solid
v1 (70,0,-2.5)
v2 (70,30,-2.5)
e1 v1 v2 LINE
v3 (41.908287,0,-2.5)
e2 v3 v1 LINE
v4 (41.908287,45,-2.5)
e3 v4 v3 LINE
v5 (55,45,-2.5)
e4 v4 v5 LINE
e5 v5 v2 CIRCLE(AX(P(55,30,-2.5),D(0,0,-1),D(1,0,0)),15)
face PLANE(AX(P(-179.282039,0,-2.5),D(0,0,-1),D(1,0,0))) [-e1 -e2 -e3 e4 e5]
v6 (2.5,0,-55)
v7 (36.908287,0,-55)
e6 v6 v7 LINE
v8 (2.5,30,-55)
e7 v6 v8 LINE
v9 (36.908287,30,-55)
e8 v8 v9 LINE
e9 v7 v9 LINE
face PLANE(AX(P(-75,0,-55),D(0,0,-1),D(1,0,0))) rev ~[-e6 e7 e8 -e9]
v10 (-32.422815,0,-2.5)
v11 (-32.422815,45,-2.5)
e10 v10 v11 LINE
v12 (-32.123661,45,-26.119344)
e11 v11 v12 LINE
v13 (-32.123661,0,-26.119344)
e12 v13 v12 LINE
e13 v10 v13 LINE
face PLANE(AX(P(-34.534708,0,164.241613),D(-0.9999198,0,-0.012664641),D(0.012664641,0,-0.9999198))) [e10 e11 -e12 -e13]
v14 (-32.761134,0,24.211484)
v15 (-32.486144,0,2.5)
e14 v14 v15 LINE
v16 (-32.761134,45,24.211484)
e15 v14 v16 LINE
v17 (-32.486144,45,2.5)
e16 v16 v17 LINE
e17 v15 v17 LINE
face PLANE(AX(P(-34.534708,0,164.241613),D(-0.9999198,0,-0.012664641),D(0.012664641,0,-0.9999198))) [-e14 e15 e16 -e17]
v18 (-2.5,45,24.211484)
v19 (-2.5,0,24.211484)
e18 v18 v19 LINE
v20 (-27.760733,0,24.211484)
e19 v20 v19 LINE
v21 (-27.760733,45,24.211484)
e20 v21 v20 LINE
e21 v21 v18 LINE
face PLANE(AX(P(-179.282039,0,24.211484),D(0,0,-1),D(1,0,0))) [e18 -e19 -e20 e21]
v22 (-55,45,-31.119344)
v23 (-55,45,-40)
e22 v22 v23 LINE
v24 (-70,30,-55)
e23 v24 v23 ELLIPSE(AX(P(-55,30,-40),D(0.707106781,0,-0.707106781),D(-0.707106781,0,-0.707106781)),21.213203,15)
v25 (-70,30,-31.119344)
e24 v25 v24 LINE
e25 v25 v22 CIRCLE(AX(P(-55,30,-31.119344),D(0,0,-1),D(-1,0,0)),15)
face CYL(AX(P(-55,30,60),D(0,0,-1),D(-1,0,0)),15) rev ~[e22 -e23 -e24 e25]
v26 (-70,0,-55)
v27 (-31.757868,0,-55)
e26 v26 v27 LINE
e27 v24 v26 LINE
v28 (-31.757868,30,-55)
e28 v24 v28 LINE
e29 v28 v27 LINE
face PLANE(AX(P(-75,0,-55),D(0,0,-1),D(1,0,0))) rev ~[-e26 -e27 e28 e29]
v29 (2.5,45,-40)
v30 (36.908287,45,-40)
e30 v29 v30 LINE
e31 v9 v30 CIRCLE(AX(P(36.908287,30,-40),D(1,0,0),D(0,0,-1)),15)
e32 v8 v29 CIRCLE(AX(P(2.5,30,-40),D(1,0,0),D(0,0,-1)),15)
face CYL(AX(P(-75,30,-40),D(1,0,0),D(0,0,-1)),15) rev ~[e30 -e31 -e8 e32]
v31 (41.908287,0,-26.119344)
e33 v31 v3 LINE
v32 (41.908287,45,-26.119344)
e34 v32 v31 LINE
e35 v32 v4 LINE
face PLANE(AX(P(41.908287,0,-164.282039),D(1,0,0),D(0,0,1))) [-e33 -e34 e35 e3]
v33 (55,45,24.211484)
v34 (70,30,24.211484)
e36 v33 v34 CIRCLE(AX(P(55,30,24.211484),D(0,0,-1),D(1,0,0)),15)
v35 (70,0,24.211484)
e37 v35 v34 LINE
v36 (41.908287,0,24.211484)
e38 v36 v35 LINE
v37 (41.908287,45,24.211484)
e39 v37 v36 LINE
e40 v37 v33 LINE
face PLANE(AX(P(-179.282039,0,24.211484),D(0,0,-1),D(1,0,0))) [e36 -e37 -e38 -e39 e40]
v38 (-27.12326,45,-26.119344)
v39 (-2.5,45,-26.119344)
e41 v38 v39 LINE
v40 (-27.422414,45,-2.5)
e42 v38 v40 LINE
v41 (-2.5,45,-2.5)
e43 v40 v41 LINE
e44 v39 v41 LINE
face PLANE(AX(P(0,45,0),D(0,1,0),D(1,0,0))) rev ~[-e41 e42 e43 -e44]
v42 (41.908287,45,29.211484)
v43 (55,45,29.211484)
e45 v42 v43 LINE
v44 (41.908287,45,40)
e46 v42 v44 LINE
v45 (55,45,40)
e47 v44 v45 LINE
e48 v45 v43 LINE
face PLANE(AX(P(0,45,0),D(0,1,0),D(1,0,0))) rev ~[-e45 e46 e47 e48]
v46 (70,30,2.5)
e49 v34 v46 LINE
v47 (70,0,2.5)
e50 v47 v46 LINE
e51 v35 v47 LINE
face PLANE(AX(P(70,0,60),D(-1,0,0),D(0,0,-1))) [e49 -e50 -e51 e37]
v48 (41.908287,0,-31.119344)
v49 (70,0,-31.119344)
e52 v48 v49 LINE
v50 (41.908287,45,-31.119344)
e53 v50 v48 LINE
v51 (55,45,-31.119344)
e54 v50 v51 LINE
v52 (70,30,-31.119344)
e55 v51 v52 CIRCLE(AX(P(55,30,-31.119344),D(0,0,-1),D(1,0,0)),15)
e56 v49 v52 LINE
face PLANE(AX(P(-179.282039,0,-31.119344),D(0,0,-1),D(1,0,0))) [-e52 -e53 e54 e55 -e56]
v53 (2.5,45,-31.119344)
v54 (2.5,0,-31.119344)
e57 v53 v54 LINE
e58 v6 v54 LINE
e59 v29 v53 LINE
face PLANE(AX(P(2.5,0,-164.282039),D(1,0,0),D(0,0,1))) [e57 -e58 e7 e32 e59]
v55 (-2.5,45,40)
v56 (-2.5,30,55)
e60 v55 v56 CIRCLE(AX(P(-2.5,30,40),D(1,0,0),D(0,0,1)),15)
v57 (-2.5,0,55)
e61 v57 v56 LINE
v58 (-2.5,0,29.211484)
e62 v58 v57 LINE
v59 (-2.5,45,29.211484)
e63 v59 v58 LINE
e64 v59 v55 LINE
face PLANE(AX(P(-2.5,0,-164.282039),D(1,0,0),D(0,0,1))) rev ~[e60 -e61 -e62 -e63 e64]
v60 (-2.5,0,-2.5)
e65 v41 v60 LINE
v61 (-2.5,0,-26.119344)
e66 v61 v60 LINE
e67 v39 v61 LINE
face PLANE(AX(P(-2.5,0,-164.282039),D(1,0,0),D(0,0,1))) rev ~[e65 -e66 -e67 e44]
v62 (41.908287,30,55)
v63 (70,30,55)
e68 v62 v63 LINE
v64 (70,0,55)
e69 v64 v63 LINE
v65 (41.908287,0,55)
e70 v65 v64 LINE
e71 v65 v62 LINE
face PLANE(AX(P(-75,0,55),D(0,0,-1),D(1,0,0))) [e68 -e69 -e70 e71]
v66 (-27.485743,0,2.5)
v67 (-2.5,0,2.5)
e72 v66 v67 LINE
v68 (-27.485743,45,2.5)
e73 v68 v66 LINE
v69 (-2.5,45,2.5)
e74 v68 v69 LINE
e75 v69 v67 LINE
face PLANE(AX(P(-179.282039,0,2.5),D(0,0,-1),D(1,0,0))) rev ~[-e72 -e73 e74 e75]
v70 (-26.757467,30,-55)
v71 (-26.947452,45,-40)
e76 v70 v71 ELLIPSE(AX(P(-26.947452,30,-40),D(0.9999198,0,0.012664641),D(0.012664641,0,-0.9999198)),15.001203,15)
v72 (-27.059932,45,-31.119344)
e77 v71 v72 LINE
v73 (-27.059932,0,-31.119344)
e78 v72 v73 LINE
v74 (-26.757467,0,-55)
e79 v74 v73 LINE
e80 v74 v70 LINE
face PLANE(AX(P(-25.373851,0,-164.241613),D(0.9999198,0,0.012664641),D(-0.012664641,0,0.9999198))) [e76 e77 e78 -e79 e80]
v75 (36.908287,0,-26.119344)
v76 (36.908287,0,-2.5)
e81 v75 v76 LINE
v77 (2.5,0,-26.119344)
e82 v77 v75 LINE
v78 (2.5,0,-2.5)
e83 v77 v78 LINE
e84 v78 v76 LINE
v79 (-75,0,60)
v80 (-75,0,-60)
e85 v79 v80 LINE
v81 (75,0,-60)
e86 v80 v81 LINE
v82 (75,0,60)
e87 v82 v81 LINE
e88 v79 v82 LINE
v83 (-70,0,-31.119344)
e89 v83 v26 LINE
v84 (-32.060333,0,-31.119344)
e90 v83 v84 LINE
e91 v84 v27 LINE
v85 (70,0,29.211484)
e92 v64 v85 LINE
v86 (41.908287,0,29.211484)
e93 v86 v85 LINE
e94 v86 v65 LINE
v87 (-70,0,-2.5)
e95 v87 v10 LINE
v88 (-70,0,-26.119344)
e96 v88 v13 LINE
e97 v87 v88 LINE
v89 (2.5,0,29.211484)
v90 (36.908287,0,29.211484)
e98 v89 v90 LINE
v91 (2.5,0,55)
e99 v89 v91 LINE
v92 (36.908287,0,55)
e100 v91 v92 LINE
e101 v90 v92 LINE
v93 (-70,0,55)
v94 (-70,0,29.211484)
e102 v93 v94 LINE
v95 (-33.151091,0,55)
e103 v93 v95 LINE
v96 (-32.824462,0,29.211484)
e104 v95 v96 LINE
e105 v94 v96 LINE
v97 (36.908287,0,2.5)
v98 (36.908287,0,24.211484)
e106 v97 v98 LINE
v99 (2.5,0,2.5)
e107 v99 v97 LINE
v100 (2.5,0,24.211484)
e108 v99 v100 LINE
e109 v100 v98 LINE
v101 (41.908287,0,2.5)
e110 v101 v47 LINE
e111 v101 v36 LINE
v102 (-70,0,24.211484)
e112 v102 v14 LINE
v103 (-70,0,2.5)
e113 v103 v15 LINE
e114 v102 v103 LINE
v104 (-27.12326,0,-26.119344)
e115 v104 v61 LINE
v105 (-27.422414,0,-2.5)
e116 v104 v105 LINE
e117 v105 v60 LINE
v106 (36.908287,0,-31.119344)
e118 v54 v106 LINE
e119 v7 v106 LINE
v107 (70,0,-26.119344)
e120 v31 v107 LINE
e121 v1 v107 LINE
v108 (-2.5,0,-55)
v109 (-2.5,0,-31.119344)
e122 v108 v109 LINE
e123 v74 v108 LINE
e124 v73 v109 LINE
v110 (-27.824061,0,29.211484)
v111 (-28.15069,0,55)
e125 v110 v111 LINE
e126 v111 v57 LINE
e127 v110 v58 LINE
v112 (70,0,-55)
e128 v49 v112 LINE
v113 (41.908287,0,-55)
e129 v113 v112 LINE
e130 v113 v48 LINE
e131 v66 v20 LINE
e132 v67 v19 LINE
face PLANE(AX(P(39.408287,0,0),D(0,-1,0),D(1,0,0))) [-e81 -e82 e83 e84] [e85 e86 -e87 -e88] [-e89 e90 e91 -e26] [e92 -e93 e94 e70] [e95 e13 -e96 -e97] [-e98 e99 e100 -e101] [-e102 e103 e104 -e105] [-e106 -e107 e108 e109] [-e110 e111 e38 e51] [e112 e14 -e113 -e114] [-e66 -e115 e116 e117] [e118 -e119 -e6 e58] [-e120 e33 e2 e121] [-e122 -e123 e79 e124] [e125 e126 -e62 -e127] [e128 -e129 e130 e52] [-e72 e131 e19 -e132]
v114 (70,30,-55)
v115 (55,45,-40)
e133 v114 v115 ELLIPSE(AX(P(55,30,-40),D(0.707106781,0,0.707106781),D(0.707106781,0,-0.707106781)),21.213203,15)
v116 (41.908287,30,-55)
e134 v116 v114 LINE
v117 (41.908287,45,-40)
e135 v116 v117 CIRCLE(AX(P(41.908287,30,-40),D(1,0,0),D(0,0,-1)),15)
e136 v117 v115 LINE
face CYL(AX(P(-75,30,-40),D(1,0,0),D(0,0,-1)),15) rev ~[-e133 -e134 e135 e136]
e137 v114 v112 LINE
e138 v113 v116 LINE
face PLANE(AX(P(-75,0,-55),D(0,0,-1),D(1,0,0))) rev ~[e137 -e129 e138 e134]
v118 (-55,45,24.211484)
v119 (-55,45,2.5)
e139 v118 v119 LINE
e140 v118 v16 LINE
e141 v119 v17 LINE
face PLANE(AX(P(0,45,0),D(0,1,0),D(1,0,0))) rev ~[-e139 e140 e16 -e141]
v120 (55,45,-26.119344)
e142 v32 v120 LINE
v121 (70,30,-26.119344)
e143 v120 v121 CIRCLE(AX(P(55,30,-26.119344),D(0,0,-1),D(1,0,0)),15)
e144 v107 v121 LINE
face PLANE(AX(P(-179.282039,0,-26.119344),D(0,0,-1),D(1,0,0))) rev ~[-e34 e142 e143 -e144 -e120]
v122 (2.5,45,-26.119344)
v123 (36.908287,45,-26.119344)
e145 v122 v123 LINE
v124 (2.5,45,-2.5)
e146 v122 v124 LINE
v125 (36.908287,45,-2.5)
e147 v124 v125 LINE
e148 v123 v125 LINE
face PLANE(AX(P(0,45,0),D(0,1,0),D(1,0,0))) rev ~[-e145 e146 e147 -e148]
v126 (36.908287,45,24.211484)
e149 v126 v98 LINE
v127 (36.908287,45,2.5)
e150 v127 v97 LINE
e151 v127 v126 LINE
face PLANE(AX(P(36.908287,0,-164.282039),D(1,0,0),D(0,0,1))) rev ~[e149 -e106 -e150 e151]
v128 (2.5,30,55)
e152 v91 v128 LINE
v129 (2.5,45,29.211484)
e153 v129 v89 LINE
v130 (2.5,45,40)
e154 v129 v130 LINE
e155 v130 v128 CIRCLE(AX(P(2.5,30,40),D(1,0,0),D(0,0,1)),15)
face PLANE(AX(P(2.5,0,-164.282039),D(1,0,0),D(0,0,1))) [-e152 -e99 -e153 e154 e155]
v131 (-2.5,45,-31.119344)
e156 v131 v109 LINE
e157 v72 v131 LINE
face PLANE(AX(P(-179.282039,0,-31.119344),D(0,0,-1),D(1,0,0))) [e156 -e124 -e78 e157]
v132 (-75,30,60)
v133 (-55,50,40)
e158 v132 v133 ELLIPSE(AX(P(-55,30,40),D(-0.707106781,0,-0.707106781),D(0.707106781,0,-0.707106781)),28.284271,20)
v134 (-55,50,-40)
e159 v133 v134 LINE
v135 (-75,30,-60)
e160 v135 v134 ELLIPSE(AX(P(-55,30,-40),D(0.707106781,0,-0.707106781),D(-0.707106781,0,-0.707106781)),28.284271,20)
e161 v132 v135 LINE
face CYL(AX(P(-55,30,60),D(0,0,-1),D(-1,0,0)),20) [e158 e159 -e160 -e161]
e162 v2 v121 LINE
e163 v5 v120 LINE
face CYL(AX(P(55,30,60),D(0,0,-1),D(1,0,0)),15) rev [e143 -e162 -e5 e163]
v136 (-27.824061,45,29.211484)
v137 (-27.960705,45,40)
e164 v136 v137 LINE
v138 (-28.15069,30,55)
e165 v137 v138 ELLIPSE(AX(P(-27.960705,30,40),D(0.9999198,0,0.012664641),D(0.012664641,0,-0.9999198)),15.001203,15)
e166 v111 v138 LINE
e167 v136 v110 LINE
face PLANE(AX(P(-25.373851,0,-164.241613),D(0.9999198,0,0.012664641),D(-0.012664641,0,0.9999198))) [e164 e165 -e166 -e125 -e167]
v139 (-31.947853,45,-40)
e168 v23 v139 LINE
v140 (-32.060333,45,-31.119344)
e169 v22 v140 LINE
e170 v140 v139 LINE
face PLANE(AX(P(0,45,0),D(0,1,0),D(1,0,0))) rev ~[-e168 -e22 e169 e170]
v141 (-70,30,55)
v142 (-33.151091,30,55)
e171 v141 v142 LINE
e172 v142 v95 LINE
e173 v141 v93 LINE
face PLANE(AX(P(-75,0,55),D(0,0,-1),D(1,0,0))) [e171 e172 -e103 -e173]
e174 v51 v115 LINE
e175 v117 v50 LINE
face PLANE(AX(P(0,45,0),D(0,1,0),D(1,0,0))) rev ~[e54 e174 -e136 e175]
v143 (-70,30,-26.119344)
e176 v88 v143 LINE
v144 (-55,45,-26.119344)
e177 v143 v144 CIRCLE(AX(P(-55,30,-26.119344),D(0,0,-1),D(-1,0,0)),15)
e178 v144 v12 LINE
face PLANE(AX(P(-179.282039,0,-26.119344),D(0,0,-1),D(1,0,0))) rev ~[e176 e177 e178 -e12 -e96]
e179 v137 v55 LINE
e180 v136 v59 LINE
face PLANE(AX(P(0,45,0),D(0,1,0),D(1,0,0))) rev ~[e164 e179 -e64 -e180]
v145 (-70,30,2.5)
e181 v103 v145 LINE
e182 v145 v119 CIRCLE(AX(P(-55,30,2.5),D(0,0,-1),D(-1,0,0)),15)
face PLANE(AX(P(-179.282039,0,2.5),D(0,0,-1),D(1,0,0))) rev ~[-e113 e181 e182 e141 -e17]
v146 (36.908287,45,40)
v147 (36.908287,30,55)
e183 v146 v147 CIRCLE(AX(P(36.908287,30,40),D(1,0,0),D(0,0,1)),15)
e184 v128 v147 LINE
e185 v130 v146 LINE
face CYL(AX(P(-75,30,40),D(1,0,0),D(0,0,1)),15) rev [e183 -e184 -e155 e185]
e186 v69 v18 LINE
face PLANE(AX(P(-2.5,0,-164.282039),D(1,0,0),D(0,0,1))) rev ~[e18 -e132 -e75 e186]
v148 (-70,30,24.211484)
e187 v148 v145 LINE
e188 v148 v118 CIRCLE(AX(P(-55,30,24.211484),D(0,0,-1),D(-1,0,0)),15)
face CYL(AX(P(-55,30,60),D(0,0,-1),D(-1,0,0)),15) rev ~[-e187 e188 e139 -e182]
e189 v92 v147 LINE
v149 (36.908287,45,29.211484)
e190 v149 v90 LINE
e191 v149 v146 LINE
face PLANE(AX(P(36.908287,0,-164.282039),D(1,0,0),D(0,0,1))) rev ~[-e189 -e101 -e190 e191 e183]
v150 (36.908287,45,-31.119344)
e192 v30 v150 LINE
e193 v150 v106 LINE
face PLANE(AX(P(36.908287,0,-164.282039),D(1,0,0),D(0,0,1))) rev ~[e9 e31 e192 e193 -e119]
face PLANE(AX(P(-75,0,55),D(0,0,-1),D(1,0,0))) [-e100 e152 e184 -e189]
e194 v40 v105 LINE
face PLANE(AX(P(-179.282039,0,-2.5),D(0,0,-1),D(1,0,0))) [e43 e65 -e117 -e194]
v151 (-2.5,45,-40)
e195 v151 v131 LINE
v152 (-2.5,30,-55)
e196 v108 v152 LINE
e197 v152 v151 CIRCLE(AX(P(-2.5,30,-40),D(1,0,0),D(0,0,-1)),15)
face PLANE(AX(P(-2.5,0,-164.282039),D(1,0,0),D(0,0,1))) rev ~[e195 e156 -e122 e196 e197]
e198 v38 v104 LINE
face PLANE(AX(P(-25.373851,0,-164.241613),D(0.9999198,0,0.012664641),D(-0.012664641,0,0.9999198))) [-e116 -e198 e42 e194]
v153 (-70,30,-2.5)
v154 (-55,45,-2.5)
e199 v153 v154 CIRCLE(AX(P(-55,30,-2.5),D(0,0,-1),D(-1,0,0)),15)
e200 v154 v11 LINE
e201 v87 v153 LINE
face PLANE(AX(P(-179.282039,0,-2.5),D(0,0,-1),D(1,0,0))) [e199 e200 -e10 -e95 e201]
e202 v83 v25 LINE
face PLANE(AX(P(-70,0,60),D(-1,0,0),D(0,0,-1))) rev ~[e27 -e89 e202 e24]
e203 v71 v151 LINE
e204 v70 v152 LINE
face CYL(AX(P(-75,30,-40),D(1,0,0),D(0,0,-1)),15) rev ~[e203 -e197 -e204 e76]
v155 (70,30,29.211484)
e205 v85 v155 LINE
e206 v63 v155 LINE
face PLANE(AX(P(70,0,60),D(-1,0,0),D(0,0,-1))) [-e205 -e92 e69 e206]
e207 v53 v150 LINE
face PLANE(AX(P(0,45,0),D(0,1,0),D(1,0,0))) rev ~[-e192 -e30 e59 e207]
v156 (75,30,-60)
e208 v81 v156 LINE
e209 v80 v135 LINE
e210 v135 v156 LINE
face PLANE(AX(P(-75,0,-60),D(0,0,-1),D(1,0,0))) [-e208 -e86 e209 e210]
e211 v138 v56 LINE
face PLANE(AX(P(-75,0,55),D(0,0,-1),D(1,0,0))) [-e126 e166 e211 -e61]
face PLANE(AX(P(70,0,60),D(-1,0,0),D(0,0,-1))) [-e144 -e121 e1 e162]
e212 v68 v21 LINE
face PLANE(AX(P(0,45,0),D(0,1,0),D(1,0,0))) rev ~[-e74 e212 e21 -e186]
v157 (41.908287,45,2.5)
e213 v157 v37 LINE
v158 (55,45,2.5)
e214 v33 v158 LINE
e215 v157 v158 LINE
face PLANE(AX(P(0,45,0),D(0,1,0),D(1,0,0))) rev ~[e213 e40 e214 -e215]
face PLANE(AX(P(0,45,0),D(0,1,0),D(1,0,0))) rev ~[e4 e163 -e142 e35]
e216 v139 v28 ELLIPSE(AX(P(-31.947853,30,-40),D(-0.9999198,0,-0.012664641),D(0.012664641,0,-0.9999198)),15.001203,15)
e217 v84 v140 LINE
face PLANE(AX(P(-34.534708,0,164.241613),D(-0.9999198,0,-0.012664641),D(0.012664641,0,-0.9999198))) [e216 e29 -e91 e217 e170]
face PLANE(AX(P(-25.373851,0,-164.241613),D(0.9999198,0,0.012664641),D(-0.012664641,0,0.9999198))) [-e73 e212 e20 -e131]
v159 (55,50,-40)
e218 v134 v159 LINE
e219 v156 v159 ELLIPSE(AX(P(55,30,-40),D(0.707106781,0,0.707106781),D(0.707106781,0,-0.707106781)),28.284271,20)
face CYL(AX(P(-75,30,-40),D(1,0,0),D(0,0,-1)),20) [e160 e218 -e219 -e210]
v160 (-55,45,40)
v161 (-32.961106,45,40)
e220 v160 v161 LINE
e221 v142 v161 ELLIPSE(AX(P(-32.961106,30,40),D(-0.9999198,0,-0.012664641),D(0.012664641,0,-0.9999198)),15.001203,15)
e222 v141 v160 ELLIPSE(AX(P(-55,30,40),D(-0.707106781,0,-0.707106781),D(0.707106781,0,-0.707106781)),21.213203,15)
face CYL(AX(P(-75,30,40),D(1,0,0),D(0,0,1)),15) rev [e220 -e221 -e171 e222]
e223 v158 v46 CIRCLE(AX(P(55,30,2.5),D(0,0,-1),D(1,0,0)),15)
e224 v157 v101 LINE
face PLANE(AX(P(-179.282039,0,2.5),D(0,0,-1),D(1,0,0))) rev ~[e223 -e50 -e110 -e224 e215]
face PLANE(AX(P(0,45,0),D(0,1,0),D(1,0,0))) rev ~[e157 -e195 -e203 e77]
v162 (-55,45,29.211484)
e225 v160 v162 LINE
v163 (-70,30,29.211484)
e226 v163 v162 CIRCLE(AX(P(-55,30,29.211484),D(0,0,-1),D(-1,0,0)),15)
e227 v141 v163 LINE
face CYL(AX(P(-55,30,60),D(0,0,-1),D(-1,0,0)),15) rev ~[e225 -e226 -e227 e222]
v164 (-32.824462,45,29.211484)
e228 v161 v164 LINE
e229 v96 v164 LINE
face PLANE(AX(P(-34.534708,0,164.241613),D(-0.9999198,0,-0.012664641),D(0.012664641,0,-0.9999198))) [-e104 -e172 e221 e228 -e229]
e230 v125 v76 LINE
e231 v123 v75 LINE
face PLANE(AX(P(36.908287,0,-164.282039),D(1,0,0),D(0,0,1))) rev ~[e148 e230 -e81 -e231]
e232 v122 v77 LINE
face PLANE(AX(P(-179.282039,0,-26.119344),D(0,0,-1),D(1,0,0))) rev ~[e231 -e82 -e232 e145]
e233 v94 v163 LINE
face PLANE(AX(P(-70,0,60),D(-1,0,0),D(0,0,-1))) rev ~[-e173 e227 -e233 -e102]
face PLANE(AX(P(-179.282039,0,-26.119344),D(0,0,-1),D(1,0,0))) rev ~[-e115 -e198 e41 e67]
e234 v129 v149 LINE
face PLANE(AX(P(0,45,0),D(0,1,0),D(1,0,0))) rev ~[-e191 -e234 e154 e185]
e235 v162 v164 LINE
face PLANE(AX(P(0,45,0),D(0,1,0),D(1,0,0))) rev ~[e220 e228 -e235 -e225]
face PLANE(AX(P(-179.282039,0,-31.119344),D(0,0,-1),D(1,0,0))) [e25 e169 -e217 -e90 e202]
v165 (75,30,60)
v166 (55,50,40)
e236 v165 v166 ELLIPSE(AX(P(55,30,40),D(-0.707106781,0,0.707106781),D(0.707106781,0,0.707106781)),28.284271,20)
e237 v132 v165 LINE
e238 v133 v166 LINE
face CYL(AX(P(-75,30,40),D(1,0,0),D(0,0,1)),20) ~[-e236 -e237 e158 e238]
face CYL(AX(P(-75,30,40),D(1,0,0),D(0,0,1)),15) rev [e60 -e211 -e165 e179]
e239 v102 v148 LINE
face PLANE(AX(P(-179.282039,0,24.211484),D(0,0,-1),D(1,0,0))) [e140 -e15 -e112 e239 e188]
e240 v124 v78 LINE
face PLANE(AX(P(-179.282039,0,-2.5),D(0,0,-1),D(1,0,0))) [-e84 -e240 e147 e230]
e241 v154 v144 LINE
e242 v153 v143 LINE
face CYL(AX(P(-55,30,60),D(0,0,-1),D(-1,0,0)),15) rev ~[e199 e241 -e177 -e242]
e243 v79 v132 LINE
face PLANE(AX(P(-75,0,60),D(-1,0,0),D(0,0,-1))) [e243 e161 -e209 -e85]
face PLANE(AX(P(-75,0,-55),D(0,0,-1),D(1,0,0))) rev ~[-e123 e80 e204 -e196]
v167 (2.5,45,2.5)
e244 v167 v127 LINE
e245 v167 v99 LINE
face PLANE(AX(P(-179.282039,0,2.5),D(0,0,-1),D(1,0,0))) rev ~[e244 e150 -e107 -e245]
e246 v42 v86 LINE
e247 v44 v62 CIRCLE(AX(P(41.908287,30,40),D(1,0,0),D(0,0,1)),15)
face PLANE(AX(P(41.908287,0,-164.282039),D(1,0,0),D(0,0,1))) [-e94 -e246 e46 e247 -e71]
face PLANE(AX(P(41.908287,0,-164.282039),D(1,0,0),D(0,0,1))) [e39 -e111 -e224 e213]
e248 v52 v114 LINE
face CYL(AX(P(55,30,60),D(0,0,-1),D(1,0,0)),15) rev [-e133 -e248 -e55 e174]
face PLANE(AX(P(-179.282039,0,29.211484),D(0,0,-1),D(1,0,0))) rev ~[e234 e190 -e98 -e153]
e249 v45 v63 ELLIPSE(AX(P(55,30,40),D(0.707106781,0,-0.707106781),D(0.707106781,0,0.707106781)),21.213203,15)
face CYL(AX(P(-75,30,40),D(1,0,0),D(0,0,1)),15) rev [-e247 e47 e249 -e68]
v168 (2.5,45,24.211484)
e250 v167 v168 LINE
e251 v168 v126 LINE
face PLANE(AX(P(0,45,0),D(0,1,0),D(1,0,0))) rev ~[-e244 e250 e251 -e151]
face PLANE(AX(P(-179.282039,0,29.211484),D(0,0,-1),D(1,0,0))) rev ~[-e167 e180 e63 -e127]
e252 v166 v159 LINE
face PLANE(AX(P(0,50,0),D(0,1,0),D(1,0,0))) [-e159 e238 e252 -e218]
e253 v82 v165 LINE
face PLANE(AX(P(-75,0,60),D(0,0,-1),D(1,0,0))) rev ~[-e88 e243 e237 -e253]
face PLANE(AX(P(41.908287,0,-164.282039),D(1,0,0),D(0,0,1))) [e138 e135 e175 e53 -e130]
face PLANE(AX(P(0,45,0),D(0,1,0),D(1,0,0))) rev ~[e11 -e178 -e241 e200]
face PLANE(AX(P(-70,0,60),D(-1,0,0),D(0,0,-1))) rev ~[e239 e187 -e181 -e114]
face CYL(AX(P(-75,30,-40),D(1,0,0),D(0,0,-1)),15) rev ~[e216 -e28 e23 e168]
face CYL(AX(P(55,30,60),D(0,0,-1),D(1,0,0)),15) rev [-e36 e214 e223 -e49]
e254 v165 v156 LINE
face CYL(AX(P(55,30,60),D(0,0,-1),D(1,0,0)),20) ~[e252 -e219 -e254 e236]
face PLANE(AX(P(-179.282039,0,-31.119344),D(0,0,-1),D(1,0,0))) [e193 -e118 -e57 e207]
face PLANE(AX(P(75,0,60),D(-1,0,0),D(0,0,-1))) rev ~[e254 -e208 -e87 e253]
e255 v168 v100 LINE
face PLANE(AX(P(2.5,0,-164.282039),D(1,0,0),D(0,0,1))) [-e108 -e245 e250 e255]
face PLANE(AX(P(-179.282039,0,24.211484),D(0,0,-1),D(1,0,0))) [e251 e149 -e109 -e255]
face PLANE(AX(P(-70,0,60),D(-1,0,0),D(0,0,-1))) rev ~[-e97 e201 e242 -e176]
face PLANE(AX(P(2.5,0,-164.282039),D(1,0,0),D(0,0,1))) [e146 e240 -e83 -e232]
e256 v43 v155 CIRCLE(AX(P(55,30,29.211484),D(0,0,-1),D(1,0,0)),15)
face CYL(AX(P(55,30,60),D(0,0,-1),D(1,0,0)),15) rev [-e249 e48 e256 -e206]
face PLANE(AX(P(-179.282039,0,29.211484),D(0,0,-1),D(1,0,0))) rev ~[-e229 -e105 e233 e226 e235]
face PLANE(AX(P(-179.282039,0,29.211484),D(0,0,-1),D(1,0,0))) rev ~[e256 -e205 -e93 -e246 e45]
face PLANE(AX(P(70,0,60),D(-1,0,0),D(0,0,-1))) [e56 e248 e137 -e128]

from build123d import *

# Parameters (mm, degrees)
SKETCH1_W           = 150
SKETCH1_H           = 120
BOSS_EXTRUDE1_DEPTH = 50
FILLET1_R           = 20
SHELL1_T            = -5
RIB1_REACH          = 110.282
SKETCH2_WALLS_W     = 358.564078278
SKETCH2_WALLS_H     = 5
SKETCH2_WALLS_W_2   = 360.016478266
SKETCH2_WALLS_W_3   = 5
SKETCH2_WALLS_H_2   = 328.564078278


with BuildPart() as part:
    # Sketch1 → Boss-Extrude1 (new body)
    with BuildSketch(Plane(origin=(0, 0, 0), x_dir=(1, 0, 0), z_dir=(0, 1, 0))):
        Rectangle(SKETCH1_W, SKETCH1_H)
    extrude(amount=BOSS_EXTRUDE1_DEPTH)

    # Fillet1
    fillet1_edges = [part.edges().sort_by_distance(p)[0] for p in [
        (-75, 50, 0),
        (0, 50, 60),
        (75, 50, 0),
        (0, 50, -60),
    ]]
    fillet(fillet1_edges, radius=FILLET1_R)

    # Shell1
    shell1_openings = [part.faces().sort_by_distance(p)[0] for p in [
        (0, 0, 0),
    ]]
    offset(amount=SHELL1_T, openings=shell1_openings)

    # Sketch2 walls → Rib1 (add, up to next)
    with BuildSketch(Plane.XZ, mode=Mode.PRIVATE) as rib1_sk1:
        with Locations((0, -28.619344042)):
            Rectangle(SKETCH2_WALLS_W, SKETCH2_WALLS_H)
    rib1_tool1 = extrude(rib1_sk1.sketch, amount=-RIB1_REACH, mode=Mode.PRIVATE) - part.part
    # Sketch2 walls → Rib1 (add, up to next)
    with BuildSketch(Plane.XZ, mode=Mode.PRIVATE) as rib1_sk2:
        Rectangle(SKETCH2_WALLS_W, SKETCH2_WALLS_H)
    rib1_tool2 = extrude(rib1_sk2.sketch, amount=-RIB1_REACH, mode=Mode.PRIVATE) - part.part
    # Sketch2 walls → Rib1 (add, up to next)
    with BuildSketch(Plane.XZ, mode=Mode.PRIVATE) as rib1_sk3:
        with Locations((0.726199994, 26.711483804)):
            Rectangle(SKETCH2_WALLS_W_2, SKETCH2_WALLS_H)
    rib1_tool3 = extrude(rib1_sk3.sketch, amount=-RIB1_REACH, mode=Mode.PRIVATE) - part.part
    # Sketch2 walls → Rib1 (add, up to next)
    with BuildSketch(Plane.XZ, mode=Mode.PRIVATE) as rib1_sk4:
        Rectangle(SKETCH2_WALLS_W_3, SKETCH2_WALLS_H_2)
    rib1_tool4 = extrude(rib1_sk4.sketch, amount=-RIB1_REACH, mode=Mode.PRIVATE) - part.part
    # Sketch2 walls → Rib1 (add, up to next)
    with BuildSketch(Plane.XZ, mode=Mode.PRIVATE) as rib1_sk5:
        Polygon((-34.534707577, 164.241613139), (-30.373449631, -164.304936346), (-25.37385063, -164.241613139), (-29.535108576, 164.304936346), align=None)
    rib1_tool5 = extrude(rib1_sk5.sketch, amount=-RIB1_REACH, mode=Mode.PRIVATE) - part.part
    # Sketch2 walls → Rib1 (add, up to next)
    with BuildSketch(Plane.XZ, mode=Mode.PRIVATE) as rib1_sk6:
        with Locations((39.408287459, 0)):
            Rectangle(SKETCH2_WALLS_W_3, SKETCH2_WALLS_H_2)
    rib1_tool6 = extrude(rib1_sk6.sketch, amount=-RIB1_REACH, mode=Mode.PRIVATE) - part.part
    add(rib1_tool1.solids().sort_by_distance((0, 0, -28.619344042))[0])
    add(rib1_tool2.solids().sort_by_distance((0, 0, 0))[0])
    add(rib1_tool3.solids().sort_by_distance((0.726199994, 0, 26.711483804))[0])
    add(rib1_tool4.solids().sort_by_distance((0, 0, 0))[0])
    add(rib1_tool5.solids().sort_by_distance((-29.954279104, 0, 0))[0])
    add(rib1_tool6.solids().sort_by_distance((39.408287459, 0, 0))[0])


solid = part.part
